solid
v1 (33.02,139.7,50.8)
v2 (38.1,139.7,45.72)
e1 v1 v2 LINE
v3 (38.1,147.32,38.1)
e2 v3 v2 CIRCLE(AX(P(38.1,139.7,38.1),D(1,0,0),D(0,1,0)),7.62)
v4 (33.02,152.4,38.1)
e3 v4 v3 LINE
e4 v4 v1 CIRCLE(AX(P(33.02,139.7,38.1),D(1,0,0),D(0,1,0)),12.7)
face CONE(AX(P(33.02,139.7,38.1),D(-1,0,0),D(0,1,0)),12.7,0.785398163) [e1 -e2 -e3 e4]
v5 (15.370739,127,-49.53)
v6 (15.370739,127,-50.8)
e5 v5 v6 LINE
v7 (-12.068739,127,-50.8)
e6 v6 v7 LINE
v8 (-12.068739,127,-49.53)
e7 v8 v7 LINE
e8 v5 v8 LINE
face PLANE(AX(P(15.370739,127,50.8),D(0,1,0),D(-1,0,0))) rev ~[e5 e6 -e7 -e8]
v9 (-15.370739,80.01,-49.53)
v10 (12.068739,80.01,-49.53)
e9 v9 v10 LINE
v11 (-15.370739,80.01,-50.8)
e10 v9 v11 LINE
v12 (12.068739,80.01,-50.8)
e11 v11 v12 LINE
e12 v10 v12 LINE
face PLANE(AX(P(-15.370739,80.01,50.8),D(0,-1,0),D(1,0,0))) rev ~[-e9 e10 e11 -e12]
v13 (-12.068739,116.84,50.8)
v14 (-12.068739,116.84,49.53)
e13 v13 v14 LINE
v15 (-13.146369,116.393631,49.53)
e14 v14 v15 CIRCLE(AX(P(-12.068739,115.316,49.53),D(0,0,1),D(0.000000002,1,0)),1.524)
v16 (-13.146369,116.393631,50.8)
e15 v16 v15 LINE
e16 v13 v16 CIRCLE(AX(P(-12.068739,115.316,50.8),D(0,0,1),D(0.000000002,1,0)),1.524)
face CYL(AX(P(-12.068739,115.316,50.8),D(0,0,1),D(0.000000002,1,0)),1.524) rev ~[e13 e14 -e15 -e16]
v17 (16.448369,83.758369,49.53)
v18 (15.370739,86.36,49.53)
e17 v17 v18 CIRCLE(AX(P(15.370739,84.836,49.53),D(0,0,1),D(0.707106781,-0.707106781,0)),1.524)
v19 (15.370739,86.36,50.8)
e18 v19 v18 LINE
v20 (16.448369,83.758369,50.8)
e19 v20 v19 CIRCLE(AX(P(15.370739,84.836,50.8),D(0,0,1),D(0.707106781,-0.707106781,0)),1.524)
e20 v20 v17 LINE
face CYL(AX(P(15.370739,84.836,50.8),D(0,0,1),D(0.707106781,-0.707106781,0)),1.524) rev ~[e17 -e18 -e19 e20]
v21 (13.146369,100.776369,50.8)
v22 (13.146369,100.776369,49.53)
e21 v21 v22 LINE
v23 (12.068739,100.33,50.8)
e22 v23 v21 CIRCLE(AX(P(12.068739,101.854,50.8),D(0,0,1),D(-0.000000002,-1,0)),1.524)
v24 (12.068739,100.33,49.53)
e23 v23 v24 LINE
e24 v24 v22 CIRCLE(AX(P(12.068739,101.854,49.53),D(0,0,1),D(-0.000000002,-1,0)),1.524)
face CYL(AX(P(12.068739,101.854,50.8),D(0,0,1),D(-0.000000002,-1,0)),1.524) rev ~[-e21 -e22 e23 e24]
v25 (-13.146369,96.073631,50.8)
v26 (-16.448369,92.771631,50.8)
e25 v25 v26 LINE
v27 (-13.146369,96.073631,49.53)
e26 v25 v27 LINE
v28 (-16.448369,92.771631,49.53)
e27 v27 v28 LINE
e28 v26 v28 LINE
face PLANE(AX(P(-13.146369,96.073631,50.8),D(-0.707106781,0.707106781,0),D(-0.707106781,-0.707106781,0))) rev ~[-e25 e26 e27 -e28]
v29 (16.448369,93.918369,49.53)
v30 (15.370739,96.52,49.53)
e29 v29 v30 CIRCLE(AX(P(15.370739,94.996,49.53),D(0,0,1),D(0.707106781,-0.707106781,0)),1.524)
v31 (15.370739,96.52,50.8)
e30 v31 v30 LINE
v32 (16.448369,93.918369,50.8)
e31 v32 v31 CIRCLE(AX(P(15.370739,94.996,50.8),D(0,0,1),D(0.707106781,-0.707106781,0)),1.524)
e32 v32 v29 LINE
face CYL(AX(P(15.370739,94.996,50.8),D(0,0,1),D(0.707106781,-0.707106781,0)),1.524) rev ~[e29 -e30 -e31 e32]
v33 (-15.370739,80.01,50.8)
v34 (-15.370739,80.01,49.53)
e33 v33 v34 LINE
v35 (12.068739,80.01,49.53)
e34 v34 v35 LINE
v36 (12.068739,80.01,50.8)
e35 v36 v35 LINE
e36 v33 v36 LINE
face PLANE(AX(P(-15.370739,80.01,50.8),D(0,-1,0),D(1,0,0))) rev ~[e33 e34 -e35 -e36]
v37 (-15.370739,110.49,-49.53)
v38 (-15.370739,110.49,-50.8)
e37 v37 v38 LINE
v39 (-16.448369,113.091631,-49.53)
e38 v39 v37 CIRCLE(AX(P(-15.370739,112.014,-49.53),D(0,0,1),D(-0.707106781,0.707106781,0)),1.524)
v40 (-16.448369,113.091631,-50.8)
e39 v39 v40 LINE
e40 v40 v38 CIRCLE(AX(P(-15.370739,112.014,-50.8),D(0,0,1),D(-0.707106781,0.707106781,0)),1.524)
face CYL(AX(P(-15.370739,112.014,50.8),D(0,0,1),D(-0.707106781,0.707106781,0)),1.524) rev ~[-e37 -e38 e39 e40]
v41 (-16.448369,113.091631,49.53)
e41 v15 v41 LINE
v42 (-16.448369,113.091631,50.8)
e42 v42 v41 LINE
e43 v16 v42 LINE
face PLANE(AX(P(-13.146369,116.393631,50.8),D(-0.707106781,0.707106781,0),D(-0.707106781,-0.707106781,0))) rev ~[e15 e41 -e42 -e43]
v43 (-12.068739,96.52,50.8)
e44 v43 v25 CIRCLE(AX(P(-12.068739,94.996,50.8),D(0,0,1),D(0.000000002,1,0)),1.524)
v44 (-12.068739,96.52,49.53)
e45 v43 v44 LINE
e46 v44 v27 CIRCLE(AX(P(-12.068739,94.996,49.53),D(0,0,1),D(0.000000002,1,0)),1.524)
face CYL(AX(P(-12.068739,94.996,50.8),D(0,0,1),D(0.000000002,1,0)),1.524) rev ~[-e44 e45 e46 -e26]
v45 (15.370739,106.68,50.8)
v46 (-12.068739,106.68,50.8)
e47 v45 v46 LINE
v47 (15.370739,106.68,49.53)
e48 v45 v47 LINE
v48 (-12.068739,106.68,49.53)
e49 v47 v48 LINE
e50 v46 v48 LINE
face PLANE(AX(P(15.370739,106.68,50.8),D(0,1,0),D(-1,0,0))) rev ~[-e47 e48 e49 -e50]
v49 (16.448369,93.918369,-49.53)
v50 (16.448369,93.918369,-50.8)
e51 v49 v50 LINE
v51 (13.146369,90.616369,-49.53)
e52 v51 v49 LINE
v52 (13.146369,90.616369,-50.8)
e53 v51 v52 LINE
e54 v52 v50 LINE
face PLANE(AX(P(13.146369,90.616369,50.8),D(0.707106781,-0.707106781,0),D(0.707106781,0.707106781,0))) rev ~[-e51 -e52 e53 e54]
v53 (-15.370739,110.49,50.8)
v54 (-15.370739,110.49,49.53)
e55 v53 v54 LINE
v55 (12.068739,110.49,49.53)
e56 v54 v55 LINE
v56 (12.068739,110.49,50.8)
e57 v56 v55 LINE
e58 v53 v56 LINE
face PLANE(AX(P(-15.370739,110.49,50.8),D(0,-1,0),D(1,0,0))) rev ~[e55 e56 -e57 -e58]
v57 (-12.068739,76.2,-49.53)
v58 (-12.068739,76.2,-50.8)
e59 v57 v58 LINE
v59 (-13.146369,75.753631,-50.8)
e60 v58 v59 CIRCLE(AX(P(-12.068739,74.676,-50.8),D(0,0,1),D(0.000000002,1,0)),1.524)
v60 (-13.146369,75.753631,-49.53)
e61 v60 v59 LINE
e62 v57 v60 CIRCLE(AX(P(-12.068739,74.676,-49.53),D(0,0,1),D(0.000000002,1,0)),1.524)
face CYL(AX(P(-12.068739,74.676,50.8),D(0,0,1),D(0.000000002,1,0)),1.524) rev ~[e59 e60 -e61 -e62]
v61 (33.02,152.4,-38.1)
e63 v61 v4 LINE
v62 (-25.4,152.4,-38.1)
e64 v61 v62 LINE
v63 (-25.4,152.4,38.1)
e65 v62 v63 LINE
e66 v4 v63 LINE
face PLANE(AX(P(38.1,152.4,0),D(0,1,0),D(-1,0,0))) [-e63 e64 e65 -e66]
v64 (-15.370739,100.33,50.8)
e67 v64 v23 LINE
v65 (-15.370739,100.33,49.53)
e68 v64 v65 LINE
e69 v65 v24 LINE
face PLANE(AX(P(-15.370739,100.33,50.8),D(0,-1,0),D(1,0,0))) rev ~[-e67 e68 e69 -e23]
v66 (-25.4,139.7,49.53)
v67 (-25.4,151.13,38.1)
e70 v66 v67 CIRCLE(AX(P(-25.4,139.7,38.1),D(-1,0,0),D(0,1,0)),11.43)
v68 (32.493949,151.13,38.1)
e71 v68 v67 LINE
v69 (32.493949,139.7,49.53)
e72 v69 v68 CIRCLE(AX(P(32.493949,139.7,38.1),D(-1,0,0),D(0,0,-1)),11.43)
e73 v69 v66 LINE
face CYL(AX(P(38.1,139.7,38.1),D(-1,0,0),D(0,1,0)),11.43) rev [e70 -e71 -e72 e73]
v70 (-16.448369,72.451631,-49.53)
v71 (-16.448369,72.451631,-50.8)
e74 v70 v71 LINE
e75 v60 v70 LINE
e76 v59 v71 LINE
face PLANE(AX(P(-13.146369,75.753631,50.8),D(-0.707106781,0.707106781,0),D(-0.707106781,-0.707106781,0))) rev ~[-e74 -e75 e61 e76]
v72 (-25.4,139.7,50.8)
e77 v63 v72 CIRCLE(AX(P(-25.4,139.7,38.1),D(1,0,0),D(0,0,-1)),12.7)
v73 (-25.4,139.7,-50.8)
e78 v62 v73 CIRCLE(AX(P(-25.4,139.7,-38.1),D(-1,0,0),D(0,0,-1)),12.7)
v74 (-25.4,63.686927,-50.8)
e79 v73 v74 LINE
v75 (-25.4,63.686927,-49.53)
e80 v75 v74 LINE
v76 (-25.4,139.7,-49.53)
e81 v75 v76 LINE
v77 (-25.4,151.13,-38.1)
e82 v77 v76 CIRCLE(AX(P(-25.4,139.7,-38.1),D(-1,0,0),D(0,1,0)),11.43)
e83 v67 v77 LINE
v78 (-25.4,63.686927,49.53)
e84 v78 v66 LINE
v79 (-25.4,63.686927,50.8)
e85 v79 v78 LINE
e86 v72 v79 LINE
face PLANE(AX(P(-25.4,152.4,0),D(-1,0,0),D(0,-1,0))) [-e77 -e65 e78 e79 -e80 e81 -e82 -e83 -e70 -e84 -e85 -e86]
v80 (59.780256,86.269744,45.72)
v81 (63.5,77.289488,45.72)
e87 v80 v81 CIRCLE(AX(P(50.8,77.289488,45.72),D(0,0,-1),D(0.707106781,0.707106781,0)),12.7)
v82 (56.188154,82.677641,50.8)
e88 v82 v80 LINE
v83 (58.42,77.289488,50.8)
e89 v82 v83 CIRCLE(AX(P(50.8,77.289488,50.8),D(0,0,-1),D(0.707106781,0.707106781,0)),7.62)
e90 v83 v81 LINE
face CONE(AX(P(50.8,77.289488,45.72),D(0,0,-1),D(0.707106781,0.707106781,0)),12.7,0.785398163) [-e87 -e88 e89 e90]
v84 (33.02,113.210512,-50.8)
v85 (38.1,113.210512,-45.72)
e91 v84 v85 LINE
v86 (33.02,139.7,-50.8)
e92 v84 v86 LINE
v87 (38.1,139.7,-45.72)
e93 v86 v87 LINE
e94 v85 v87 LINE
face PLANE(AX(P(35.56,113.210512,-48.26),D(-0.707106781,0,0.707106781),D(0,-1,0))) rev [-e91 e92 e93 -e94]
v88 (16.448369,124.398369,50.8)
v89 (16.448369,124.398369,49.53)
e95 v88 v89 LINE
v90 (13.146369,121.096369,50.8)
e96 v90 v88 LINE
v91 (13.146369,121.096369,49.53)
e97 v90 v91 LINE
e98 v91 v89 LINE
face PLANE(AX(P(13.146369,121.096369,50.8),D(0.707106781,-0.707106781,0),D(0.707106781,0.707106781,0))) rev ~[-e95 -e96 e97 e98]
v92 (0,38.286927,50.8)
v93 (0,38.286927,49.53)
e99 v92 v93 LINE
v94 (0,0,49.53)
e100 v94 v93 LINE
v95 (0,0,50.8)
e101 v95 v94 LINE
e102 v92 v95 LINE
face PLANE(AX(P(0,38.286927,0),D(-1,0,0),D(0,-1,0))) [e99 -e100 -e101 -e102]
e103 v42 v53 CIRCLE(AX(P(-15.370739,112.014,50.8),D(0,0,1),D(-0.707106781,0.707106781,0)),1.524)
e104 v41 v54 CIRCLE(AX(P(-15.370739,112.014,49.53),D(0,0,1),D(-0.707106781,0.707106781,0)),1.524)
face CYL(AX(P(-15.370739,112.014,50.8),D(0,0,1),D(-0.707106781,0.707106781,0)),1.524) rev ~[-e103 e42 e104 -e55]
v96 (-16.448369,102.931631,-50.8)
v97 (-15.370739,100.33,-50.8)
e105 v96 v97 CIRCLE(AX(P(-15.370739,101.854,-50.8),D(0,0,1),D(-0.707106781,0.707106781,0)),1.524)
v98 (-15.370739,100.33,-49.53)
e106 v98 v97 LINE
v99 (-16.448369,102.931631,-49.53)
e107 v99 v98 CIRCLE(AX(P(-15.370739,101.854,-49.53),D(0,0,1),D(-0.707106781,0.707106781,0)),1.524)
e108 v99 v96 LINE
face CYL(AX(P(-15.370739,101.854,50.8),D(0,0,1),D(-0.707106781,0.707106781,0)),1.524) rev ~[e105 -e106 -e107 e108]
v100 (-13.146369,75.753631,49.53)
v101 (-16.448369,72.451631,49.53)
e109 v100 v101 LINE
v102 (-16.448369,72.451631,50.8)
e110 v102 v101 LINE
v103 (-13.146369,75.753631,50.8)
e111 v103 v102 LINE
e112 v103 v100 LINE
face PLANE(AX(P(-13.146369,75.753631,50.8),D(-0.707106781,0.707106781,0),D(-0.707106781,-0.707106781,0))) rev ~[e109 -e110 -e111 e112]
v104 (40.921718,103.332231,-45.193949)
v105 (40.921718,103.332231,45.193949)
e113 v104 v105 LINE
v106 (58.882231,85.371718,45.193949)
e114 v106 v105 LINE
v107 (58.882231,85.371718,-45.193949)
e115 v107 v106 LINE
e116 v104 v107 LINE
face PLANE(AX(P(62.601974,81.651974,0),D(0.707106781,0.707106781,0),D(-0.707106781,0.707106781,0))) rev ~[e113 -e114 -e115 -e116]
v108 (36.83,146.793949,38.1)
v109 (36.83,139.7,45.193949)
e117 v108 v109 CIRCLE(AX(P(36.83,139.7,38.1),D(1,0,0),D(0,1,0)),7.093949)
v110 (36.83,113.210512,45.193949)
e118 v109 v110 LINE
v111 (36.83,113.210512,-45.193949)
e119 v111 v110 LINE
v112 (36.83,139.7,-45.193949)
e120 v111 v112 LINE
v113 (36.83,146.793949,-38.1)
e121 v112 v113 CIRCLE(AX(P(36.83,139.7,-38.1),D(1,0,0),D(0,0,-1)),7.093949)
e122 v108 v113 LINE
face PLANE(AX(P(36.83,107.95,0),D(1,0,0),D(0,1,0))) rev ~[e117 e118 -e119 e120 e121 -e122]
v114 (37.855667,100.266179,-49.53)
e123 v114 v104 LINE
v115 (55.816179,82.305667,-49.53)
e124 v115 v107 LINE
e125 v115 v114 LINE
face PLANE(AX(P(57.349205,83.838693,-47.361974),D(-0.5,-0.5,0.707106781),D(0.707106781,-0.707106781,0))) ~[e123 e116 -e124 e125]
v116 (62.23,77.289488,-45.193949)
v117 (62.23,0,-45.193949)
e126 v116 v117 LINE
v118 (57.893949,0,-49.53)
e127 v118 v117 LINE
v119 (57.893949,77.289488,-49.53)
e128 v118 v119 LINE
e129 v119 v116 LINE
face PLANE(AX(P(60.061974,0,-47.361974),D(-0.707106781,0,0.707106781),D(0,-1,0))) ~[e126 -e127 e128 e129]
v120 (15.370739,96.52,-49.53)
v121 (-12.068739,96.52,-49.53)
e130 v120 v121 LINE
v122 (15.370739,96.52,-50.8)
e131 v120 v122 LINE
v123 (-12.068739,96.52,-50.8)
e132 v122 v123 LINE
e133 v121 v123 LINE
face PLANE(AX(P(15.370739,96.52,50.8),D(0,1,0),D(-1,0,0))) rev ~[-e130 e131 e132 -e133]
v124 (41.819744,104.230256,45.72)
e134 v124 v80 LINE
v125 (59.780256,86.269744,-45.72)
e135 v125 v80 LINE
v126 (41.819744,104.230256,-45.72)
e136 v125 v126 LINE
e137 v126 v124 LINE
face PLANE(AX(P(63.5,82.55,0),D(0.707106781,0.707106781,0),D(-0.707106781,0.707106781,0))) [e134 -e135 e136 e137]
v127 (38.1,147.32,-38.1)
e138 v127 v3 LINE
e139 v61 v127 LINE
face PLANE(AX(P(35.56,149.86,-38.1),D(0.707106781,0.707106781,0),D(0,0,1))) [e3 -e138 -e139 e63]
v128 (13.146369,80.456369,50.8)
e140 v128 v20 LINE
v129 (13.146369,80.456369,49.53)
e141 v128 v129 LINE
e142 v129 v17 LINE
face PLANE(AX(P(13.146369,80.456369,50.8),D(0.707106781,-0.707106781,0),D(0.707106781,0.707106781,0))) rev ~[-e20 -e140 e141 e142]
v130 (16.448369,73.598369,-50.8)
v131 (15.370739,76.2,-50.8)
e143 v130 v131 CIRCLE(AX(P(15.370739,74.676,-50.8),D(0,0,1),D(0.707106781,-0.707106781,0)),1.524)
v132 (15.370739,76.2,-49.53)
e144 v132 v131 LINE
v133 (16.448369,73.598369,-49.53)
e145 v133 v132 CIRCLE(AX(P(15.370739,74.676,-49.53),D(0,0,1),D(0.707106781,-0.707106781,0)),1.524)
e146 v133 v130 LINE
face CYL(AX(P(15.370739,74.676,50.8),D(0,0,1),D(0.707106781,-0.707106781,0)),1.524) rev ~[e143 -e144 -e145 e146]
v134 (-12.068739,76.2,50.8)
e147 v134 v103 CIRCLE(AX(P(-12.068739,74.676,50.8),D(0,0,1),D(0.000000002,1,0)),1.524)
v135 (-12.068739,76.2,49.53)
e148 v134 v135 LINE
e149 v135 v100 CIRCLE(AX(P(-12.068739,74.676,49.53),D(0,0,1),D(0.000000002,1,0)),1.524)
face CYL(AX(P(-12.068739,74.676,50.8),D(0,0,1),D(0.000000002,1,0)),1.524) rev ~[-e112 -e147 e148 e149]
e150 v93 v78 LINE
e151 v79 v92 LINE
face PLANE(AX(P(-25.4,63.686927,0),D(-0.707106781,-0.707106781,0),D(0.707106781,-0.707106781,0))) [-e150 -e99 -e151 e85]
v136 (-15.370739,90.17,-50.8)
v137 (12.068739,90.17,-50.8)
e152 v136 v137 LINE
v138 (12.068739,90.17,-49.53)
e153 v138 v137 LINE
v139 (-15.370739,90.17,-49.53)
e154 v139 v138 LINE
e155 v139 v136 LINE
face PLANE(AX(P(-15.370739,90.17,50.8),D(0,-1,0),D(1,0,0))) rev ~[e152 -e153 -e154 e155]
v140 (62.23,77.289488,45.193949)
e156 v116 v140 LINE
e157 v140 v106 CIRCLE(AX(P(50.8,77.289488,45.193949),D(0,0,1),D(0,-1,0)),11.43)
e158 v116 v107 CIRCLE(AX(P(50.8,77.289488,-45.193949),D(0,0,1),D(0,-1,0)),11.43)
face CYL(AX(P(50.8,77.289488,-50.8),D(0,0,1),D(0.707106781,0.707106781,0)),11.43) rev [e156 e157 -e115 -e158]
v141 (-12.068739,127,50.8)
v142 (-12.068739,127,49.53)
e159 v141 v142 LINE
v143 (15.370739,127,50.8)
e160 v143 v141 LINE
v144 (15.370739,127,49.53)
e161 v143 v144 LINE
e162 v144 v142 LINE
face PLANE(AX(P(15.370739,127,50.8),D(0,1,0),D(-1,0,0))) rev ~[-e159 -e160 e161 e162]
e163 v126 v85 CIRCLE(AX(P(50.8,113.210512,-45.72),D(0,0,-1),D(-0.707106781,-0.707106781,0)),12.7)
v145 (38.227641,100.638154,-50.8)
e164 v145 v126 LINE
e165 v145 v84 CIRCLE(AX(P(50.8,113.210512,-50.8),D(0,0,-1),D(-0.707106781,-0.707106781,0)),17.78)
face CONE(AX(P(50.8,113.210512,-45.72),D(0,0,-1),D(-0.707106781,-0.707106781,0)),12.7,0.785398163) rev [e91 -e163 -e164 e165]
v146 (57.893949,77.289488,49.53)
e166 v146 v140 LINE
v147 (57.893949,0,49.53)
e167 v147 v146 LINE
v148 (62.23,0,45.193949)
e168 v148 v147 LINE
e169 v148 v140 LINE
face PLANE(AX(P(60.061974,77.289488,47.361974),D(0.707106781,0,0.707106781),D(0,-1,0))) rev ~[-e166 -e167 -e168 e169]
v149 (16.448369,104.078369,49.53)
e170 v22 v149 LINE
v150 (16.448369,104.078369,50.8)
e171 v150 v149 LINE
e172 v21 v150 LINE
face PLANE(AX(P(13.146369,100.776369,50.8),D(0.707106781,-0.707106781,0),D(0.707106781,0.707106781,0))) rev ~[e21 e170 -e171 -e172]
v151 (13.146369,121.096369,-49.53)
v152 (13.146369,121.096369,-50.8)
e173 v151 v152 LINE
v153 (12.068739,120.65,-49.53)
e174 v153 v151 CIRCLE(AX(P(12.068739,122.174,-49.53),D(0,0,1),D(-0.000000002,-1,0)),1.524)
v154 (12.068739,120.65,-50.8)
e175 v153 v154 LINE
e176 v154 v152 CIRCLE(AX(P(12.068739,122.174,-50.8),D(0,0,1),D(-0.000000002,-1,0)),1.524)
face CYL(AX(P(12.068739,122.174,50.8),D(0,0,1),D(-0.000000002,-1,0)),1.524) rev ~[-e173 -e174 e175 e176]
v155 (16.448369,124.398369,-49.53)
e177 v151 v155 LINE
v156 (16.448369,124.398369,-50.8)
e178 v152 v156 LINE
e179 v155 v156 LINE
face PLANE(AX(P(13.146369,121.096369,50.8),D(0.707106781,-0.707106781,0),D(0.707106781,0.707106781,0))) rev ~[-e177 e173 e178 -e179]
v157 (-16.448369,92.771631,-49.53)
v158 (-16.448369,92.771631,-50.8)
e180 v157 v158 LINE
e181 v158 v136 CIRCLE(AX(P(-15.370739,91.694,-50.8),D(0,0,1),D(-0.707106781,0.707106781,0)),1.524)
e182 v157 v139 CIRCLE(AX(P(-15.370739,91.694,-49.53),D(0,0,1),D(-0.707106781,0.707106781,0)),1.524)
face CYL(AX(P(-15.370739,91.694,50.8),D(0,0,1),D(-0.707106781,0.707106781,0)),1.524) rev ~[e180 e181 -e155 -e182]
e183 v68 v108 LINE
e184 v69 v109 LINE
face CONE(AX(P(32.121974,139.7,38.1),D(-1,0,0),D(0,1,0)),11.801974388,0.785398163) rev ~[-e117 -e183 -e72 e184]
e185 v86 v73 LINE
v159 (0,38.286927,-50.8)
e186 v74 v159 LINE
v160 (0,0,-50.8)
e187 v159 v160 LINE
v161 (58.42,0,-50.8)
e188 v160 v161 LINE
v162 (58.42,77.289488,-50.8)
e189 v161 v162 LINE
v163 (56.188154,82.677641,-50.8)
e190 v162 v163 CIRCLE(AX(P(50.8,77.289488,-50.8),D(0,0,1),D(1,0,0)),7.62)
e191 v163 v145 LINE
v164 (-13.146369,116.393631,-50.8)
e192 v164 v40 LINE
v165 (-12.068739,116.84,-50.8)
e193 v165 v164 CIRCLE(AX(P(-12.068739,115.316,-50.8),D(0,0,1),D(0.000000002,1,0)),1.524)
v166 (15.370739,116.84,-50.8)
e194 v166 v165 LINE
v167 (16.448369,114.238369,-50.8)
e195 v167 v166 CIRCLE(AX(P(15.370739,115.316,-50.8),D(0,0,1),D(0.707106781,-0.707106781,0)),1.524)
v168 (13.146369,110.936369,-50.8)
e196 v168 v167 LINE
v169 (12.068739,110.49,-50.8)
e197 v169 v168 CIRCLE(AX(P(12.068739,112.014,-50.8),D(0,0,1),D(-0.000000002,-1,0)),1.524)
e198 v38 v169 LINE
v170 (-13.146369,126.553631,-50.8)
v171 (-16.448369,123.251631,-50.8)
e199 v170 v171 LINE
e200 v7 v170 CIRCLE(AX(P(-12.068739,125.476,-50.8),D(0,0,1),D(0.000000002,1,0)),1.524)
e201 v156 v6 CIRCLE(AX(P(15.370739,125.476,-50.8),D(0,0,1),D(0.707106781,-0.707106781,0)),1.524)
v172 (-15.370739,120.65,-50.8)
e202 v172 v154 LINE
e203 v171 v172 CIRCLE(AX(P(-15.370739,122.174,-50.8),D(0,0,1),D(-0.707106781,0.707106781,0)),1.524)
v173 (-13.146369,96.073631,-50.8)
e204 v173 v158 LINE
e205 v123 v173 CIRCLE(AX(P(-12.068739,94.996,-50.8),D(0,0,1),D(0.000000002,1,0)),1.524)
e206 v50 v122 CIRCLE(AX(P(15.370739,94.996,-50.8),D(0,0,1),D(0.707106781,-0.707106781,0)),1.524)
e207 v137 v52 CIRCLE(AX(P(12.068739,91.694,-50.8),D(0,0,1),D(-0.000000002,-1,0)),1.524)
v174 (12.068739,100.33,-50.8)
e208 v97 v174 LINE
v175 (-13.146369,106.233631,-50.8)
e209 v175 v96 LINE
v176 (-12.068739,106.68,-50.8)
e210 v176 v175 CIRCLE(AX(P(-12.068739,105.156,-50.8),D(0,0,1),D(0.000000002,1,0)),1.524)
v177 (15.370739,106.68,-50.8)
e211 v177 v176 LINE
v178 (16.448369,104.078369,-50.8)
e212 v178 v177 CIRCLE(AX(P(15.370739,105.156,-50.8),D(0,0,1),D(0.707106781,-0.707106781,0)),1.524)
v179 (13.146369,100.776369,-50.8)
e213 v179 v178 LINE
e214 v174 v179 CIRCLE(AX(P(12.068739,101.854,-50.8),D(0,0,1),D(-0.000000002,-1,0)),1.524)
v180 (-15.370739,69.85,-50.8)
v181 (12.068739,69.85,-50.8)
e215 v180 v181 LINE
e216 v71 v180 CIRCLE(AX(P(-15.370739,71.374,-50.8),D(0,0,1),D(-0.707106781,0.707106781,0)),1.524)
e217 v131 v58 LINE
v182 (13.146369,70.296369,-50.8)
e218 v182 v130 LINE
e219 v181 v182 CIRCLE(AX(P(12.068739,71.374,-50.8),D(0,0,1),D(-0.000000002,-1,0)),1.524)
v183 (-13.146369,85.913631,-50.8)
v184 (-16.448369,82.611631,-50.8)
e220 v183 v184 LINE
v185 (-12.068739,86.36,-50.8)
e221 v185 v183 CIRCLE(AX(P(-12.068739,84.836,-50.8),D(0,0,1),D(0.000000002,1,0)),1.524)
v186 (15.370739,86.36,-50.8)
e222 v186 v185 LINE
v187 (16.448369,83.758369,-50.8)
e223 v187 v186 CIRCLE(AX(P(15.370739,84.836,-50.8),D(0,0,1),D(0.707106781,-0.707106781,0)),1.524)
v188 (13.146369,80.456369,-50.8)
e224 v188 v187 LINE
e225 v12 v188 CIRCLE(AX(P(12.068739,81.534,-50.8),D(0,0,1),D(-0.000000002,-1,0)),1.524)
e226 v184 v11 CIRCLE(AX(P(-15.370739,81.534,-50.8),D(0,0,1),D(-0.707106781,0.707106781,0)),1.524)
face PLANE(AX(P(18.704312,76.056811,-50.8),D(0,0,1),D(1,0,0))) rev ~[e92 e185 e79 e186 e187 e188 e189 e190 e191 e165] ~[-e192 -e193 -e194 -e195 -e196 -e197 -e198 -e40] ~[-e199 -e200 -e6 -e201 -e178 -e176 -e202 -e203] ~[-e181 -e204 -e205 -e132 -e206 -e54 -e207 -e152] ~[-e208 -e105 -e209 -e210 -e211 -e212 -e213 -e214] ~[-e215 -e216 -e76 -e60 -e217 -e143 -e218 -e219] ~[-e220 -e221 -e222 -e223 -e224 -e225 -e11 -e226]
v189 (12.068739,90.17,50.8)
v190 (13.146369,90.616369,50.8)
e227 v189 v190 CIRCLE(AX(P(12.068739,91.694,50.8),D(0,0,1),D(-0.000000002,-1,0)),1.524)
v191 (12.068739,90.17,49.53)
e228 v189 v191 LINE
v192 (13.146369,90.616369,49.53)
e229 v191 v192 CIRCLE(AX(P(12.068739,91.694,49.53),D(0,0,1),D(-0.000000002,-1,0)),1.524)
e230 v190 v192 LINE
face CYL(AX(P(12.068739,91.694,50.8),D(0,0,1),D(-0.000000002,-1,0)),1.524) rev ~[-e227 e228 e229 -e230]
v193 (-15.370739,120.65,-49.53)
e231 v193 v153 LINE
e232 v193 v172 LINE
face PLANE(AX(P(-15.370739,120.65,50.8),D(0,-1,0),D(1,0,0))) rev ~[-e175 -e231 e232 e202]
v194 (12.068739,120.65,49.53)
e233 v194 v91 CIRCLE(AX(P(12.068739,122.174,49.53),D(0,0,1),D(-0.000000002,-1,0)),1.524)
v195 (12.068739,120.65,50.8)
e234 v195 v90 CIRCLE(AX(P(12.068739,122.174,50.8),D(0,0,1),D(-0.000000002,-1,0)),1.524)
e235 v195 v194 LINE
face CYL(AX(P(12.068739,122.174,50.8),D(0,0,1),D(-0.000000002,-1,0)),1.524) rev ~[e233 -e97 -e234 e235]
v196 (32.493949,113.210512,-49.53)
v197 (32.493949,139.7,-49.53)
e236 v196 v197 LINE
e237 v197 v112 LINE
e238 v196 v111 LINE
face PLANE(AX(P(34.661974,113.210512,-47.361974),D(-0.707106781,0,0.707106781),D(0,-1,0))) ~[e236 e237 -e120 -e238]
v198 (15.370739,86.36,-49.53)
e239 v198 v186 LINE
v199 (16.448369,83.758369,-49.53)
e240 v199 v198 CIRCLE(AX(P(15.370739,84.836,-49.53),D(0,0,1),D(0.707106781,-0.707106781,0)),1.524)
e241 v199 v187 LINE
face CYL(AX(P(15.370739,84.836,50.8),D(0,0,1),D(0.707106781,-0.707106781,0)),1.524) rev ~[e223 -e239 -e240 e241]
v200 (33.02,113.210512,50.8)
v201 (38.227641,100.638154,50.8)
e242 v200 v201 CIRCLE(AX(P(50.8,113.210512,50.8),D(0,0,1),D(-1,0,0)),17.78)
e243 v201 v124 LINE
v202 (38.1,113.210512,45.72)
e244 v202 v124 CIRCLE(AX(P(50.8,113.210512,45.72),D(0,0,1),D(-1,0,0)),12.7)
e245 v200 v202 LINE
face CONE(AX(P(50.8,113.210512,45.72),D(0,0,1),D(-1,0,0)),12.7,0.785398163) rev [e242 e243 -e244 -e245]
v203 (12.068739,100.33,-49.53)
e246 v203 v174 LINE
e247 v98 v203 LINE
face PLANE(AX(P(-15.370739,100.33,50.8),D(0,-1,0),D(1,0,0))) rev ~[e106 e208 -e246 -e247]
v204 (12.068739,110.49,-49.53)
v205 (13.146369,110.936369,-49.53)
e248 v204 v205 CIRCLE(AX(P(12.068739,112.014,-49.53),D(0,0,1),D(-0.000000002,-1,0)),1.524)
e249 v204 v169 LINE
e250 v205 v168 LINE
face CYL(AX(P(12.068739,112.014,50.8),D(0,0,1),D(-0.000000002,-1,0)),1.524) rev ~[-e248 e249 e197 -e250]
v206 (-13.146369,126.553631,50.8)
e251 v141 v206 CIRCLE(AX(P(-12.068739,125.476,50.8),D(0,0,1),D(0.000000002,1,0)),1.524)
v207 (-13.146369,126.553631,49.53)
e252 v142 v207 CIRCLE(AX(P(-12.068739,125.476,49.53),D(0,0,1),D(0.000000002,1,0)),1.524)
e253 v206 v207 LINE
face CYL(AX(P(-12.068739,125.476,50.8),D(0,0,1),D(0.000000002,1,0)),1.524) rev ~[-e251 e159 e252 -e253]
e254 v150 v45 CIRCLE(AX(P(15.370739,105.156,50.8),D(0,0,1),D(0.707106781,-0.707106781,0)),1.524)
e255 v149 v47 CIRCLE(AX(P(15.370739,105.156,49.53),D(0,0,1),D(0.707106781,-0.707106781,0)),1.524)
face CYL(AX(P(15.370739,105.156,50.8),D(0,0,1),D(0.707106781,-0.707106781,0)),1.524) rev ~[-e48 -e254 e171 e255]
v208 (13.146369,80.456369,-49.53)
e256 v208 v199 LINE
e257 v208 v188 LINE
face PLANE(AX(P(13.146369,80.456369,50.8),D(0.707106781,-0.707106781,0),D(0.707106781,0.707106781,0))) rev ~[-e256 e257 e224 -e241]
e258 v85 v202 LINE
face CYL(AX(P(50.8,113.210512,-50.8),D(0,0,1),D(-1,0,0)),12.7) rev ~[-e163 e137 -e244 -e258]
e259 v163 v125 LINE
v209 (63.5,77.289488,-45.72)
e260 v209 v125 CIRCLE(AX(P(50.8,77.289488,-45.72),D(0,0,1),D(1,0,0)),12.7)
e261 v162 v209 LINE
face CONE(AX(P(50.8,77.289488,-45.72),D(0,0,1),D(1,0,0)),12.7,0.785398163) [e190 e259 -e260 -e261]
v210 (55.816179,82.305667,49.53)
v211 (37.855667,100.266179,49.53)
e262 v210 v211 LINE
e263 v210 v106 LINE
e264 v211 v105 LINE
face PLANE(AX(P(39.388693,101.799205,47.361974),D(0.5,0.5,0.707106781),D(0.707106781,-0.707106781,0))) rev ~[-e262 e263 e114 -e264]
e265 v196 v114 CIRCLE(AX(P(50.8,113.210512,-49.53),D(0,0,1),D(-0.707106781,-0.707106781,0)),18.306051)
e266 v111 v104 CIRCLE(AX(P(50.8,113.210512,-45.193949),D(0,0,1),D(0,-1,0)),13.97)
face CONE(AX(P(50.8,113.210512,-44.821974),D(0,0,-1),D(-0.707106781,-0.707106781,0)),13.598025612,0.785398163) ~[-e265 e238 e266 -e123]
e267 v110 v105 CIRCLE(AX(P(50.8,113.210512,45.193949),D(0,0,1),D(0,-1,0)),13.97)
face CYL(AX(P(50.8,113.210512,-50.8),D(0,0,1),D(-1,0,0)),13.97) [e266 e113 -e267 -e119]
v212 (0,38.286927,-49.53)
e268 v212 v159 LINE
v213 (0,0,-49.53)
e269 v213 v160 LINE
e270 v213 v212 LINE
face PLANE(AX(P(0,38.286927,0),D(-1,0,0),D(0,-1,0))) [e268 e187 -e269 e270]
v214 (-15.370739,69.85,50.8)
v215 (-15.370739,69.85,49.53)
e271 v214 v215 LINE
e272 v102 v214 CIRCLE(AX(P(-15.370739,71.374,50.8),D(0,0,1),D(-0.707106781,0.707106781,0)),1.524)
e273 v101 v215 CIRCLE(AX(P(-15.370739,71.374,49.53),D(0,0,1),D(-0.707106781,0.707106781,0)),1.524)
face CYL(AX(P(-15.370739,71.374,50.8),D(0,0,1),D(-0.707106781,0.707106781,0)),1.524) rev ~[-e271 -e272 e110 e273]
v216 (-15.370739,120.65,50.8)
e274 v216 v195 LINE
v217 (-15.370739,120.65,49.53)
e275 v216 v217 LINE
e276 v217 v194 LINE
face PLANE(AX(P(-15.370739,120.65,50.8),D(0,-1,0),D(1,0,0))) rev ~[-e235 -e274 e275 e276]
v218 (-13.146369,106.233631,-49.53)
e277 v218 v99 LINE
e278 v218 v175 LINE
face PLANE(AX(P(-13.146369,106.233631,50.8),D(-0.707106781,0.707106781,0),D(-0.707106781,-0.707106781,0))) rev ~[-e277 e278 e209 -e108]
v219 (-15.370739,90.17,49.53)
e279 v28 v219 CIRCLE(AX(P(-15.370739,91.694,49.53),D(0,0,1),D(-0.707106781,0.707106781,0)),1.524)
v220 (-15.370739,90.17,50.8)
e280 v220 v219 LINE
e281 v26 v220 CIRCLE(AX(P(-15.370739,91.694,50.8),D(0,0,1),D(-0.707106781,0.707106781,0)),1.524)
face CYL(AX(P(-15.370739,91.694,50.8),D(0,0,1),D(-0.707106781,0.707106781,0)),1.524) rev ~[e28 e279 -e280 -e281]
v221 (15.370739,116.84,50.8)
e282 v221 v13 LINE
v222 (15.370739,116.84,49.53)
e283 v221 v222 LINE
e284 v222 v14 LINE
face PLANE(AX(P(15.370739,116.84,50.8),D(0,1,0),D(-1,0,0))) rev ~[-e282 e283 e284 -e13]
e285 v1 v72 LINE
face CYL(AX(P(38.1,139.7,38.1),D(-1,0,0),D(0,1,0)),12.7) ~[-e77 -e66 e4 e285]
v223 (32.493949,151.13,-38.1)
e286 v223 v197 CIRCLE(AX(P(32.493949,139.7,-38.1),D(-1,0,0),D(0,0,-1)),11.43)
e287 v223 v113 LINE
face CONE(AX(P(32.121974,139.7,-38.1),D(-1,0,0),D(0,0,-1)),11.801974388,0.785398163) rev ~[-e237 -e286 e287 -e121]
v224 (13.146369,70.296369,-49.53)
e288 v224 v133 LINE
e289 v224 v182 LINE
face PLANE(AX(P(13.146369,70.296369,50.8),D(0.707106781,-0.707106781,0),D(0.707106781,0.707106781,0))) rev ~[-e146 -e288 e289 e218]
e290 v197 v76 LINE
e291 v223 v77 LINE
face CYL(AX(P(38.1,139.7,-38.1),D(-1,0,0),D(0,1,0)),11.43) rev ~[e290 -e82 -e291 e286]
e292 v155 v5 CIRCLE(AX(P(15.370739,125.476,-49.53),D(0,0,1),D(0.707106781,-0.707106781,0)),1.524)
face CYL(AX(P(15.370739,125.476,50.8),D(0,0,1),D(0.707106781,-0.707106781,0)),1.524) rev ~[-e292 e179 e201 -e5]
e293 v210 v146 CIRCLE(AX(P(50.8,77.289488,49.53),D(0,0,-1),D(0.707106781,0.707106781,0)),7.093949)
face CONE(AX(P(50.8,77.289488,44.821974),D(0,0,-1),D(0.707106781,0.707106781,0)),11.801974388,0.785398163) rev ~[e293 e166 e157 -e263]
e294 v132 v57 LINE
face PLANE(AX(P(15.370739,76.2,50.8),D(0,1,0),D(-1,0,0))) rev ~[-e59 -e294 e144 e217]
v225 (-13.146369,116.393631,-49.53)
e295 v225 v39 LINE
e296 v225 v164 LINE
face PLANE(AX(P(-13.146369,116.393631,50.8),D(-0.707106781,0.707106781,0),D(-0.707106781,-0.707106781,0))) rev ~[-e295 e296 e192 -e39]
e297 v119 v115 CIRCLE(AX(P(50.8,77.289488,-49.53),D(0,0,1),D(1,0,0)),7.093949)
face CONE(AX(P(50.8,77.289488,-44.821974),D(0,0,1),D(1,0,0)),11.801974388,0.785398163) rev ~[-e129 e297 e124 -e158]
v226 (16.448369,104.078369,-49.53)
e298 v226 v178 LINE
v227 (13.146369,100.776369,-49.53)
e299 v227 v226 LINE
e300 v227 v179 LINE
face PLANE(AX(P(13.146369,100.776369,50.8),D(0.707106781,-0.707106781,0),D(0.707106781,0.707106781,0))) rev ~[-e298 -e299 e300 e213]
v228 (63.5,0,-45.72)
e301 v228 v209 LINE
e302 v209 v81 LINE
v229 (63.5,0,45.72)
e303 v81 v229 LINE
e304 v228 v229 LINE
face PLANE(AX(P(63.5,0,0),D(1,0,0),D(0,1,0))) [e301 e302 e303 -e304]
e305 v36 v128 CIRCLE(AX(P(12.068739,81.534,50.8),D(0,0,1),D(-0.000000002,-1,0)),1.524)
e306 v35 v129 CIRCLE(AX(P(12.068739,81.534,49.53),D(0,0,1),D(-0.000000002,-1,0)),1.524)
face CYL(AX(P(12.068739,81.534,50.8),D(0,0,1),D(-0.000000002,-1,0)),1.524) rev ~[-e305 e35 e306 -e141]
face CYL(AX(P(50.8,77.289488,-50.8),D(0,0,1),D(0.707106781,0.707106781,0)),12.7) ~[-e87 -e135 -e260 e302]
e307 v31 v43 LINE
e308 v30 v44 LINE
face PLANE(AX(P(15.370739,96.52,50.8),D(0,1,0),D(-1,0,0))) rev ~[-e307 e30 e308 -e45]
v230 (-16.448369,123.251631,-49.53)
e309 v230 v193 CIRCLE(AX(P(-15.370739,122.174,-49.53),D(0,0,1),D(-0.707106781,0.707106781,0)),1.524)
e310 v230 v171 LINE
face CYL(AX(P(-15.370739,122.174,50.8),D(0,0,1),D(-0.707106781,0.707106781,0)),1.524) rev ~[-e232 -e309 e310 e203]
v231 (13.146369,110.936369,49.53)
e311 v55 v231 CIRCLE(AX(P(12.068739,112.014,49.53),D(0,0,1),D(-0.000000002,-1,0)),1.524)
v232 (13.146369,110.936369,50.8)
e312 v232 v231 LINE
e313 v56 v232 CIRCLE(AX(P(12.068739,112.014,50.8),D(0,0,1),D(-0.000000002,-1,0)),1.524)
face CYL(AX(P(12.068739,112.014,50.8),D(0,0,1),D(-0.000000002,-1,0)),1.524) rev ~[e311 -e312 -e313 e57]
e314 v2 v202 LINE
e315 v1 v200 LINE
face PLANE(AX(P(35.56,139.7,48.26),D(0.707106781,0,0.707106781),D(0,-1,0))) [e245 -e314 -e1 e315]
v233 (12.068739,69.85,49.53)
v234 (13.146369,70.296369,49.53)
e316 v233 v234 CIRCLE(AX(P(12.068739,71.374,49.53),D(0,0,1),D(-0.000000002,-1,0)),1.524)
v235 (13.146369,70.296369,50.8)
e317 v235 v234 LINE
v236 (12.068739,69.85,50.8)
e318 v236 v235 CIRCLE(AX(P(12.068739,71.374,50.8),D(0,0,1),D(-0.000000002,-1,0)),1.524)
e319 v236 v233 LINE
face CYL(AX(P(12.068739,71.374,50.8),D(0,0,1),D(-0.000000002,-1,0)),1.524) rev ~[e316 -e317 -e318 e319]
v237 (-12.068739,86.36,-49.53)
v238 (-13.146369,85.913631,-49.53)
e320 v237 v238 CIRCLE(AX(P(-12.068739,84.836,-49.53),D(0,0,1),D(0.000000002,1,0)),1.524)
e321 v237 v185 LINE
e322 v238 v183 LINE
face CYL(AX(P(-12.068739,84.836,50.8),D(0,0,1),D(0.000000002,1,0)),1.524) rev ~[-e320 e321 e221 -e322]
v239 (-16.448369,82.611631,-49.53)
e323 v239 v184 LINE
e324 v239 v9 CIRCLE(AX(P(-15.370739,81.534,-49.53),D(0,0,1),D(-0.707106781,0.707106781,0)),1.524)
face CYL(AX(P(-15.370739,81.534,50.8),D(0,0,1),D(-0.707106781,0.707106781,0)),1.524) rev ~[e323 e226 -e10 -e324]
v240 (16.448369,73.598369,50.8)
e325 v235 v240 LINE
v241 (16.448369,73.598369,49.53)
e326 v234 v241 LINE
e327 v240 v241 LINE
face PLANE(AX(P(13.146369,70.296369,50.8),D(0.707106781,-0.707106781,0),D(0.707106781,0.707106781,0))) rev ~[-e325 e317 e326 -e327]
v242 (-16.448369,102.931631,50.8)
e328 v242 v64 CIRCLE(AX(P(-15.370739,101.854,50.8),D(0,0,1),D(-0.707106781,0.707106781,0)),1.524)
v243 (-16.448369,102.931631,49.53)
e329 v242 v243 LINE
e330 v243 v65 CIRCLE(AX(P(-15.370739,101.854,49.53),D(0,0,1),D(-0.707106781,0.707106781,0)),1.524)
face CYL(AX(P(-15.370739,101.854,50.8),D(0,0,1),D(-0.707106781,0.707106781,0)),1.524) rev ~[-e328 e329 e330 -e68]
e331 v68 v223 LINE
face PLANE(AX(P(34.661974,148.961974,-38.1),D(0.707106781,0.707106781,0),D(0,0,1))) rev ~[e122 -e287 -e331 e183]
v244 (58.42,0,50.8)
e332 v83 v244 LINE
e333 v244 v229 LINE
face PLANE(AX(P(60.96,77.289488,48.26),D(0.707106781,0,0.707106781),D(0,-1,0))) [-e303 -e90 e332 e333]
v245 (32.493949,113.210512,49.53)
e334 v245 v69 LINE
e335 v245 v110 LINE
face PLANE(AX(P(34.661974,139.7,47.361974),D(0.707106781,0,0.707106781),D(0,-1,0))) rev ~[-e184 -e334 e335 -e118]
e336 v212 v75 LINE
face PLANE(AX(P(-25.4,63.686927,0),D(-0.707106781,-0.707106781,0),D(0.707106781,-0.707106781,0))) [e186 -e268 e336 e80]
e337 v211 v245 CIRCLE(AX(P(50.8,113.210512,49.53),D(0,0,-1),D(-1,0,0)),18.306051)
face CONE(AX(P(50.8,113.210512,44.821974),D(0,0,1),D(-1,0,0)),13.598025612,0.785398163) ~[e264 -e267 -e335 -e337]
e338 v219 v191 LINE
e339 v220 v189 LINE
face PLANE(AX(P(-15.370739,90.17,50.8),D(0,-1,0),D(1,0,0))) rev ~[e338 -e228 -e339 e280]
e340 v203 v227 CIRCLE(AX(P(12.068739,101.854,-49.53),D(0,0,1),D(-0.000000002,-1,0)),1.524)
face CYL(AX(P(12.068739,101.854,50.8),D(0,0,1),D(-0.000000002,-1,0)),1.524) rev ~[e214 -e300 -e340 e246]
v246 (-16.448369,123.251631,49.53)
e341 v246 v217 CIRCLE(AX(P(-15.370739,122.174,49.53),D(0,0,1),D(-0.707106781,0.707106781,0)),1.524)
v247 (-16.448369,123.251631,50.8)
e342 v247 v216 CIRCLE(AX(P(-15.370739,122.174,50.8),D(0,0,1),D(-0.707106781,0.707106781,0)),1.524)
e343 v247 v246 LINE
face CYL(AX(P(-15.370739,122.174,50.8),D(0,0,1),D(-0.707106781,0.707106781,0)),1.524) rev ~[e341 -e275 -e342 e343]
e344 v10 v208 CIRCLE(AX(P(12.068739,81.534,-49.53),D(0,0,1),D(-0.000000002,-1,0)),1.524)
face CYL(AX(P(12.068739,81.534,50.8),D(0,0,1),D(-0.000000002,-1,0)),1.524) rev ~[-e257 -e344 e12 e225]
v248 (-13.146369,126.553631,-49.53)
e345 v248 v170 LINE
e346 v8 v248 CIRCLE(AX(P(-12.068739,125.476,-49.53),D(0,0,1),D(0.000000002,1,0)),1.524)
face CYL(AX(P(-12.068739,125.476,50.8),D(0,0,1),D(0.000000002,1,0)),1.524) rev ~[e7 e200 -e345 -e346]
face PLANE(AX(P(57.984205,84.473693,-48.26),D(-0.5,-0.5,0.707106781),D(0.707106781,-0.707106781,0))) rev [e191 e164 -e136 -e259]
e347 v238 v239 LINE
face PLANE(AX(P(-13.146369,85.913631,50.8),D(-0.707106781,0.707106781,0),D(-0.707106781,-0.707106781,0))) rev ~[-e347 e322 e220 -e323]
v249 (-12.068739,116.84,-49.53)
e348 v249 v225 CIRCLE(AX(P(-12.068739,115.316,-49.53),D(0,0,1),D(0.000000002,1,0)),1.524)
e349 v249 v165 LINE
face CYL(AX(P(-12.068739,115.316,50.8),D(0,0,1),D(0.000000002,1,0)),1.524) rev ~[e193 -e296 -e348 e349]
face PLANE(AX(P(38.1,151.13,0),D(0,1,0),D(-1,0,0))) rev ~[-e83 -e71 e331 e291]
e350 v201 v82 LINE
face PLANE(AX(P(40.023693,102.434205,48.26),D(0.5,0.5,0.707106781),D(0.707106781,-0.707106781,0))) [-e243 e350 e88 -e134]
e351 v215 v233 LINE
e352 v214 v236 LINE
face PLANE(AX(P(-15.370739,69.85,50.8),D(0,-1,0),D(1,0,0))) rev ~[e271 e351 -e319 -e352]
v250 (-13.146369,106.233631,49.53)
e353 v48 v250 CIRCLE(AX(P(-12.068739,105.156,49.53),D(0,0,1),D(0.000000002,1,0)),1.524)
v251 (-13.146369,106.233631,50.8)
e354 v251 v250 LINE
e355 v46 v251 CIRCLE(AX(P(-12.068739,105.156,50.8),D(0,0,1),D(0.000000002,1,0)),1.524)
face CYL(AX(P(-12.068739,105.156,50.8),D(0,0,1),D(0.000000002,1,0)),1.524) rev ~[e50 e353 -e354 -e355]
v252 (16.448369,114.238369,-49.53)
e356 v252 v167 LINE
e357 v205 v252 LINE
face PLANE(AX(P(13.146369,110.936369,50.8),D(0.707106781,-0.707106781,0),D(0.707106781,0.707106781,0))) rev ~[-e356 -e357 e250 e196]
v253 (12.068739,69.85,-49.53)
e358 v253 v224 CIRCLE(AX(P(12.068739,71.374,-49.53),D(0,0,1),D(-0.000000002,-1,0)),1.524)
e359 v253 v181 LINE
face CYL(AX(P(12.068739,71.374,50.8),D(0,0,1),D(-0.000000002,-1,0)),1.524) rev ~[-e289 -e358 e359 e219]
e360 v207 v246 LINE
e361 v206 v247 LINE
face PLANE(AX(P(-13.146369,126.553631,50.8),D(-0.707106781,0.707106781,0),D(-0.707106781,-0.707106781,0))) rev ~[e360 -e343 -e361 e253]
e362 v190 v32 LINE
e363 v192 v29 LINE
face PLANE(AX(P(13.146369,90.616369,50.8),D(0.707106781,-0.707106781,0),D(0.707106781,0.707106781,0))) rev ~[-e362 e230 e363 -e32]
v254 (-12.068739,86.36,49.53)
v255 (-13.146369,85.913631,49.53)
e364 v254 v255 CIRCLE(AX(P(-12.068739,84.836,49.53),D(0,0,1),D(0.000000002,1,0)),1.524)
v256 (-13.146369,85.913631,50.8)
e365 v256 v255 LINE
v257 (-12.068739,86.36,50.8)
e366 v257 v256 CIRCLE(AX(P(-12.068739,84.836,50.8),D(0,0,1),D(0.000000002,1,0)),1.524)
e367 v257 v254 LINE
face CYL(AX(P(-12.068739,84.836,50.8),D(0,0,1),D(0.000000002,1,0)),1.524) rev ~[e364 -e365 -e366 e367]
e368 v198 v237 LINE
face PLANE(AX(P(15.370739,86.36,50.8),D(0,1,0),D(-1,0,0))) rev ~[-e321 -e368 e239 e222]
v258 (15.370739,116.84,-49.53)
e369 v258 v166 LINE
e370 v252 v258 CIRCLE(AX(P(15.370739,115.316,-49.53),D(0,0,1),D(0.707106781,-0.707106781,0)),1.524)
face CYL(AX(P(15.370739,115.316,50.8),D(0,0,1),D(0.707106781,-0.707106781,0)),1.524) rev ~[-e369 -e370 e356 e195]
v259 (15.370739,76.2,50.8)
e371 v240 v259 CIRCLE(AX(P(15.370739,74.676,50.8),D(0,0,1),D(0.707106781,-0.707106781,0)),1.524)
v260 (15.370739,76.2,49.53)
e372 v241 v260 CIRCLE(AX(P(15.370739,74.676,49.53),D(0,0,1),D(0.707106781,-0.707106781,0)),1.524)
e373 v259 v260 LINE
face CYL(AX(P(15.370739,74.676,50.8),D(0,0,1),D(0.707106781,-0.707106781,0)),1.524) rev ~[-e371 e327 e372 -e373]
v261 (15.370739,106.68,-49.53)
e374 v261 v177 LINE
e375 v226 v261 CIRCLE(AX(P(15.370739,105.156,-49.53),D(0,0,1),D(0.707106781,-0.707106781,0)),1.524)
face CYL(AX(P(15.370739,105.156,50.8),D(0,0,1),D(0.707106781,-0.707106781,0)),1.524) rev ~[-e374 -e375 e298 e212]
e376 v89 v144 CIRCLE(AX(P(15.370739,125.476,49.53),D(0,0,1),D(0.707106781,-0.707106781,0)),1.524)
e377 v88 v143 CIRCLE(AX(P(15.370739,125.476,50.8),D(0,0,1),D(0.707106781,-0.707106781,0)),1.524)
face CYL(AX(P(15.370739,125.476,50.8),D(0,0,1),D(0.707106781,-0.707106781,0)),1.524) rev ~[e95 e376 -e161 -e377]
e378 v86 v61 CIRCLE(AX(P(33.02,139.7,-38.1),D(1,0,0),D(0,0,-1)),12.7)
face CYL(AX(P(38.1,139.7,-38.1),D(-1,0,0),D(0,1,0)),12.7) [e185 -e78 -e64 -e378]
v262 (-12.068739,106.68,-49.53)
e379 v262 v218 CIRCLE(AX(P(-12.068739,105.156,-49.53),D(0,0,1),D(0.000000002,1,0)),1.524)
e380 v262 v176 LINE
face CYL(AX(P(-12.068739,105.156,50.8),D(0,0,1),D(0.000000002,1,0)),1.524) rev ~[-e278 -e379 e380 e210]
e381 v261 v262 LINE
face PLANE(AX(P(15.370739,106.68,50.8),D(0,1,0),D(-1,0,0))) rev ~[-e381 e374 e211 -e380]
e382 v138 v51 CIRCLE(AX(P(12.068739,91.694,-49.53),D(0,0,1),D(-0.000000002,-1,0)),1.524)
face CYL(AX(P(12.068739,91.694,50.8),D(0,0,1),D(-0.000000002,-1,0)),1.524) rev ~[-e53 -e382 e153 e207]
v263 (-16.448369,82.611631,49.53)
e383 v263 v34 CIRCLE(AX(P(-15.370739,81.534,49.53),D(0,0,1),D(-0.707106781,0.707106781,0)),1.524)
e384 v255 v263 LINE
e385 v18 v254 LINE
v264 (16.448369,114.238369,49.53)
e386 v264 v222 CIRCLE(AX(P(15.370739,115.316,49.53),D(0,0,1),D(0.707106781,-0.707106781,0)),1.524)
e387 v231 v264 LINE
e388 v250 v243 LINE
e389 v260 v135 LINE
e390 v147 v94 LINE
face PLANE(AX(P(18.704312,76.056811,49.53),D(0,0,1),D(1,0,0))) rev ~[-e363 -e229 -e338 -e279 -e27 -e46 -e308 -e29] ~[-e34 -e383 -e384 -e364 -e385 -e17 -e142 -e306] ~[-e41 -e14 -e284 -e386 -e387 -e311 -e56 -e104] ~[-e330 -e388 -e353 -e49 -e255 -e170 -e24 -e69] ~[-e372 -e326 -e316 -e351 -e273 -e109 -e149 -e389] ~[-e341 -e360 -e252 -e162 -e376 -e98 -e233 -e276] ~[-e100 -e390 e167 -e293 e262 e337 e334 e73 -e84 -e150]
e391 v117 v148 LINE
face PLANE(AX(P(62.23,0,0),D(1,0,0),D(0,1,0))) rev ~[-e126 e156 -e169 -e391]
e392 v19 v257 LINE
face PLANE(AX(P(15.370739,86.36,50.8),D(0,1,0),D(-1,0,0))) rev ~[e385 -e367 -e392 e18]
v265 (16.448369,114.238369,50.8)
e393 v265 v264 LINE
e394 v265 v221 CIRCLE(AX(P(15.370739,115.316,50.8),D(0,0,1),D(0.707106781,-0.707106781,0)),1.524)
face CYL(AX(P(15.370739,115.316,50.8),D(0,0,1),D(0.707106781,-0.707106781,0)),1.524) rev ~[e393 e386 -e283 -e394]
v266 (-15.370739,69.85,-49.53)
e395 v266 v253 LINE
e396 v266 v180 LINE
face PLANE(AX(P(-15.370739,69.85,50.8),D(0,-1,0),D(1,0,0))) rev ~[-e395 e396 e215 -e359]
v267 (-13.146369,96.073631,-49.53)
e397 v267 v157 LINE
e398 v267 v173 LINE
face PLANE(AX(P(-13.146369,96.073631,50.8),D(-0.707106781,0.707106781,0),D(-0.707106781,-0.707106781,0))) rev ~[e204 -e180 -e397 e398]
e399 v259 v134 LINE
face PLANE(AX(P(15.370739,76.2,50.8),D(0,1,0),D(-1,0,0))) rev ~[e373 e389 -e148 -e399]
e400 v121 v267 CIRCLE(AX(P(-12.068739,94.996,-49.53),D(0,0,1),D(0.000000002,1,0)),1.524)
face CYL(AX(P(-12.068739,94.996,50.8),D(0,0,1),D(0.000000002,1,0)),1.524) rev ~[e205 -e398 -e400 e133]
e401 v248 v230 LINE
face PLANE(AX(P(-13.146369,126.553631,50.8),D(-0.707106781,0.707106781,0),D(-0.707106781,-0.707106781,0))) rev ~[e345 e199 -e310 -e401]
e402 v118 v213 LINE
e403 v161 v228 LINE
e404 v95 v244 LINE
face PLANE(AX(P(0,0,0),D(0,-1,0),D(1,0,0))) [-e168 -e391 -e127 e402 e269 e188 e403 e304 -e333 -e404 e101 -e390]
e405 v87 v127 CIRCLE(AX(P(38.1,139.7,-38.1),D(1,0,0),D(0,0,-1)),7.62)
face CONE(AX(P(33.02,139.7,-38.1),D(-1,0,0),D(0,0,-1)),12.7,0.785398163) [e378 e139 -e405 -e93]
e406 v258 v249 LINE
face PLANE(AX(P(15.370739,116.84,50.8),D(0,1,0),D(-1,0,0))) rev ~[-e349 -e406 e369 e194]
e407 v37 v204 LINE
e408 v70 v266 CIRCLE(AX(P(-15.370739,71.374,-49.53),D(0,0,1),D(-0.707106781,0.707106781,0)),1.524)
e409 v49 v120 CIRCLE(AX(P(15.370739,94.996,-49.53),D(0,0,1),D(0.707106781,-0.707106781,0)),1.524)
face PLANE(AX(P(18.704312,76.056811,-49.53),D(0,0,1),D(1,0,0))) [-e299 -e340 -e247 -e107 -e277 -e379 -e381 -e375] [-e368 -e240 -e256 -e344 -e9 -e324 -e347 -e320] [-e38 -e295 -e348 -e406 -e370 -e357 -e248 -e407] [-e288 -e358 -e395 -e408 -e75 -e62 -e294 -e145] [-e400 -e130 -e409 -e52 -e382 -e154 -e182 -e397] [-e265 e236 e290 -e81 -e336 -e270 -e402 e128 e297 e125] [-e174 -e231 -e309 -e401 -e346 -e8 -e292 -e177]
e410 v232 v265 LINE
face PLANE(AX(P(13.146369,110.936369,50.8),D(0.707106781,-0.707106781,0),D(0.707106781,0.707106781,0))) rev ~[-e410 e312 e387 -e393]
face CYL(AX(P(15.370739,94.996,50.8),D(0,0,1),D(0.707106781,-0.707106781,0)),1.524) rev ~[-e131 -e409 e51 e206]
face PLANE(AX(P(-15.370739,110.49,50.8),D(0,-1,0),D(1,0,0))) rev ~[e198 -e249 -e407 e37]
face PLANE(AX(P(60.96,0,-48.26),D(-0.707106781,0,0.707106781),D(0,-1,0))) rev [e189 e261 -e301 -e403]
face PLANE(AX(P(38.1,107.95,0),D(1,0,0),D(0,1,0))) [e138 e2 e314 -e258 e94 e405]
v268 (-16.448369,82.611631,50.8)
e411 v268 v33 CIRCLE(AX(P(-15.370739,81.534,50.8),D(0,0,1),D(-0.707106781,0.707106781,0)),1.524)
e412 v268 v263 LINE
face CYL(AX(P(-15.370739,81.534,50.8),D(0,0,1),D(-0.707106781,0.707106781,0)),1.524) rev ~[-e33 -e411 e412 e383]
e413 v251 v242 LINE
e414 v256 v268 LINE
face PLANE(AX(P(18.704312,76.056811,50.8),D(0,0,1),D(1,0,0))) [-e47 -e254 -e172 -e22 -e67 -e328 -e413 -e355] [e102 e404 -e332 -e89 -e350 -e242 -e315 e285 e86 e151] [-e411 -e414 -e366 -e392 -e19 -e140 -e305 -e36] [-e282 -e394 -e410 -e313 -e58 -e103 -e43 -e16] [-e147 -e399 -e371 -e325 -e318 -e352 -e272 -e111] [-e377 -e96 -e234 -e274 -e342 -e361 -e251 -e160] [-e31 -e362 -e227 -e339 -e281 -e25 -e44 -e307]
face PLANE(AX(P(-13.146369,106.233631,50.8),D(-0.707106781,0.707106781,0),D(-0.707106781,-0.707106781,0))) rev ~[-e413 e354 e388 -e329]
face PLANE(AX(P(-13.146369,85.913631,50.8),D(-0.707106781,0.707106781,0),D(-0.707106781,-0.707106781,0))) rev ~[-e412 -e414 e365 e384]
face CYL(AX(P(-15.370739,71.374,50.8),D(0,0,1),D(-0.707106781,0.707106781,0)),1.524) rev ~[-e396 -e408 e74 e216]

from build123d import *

# Parameters (mm, degrees)
BOSS_EXTRUDE1_DEPTH = 50.8
FILLET1_R           = 12.7
CHAMFER1_SIZE       = 5.08
SHELL1_T            = -1.27
CUT_EXTRUDE1_DEPTH  = 102.6


with BuildPart() as part:
    # Sketch1 → Boss-Extrude1 (new body, symmetric)
    with BuildSketch(Plane.XY):
        Polygon((0, 0), (63.5, 0), (63.5, 82.55), (38.1, 107.95), (38.1, 152.4), (-25.4, 152.4), (-25.4, 63.686926547), (0, 38.286926547), align=None)
    extrude(amount=BOSS_EXTRUDE1_DEPTH, both=True)

    # Fillet1
    fillet1_edges = [part.edges().sort_by_distance(p)[0] for p in [
        (38.1, 107.95, 0),
        (63.5, 82.55, 0),
        (6.35, 152.4, 50.8),
        (6.35, 152.4, -50.8),
    ]]
    fillet(fillet1_edges, radius=FILLET1_R)

    # Chamfer1
    chamfer1_edges = [part.edges().sort_by_distance(p)[0] for p in [
        (63.5, 38.644743879, -50.8),
        (63.5, 38.644743879, 50.8),
        (50.8, 95.25, -50.8),
        (50.8, 95.25, 50.8),
        (38.1, 126.455256121, -50.8),
        (62.533270063, 82.149567349, -50.8),
        (38.1, 126.455256121, 50.8),
        (62.533270063, 82.149567349, 50.8),
        (38.1, 152.4, 0),
        (38.1, 148.680256121, 47.080256121),
        (38.1, 148.680256121, -47.080256121),
        (39.066729937, 108.350432651, -50.8),
        (39.066729937, 108.350432651, 50.8),
    ]]
    chamfer(chamfer1_edges, length=CHAMFER1_SIZE)

    # Shell1
    shell1_openings = [part.faces().sort_by_distance(p)[0] for p in [
        (-12.7, 50.986926547, 0),
        (-25.4, 119.472394223, 0),
        (40.64, 0, 0),
        (0, 19.143463274, 0),
    ]]
    offset(amount=SHELL1_T, openings=shell1_openings, kind=Kind.INTERSECTION)

    # Sketch2 → Cut-Extrude1 (cut, through all)
    with BuildSketch(Plane.XY.offset(50.8)):
        with BuildLine():
            Line((-13.146369265, 126.553630735), (-16.448369265, 123.251630735))
            ThreePointArc((-16.448369265, 123.251630735), (-16.778730938, 121.590790449), (-15.370738531, 120.65))
            Line((-15.370738531, 120.65), (12.068738531, 120.65))
            ThreePointArc((12.068738531, 120.65), (12.651948082, 120.766007592), (13.146369265, 121.096369265))
            Line((13.146369265, 121.096369265), (16.448369265, 124.398369265))
            ThreePointArc((16.448369265, 124.398369265), (16.778730938, 126.059209551), (15.370738531, 127))
            Line((15.370738531, 127), (-12.068738531, 127))
            ThreePointArc((-12.068738531, 127), (-12.651948082, 126.883992408), (-13.146369265, 126.553630735))
        make_face()
        with BuildLine():
            Line((-13.146369265, 116.393630735), (-16.448369265, 113.091630735))
            ThreePointArc((-16.448369265, 113.091630735), (-16.778730938, 111.430790449), (-15.370738531, 110.49))
            Line((-15.370738531, 110.49), (12.068738531, 110.49))
            ThreePointArc((12.068738531, 110.49), (12.651948082, 110.606007592), (13.146369265, 110.936369265))
            Line((13.146369265, 110.936369265), (16.448369265, 114.238369265))
            ThreePointArc((16.448369265, 114.238369265), (16.778730938, 115.899209551), (15.370738531, 116.84))
            Line((15.370738531, 116.84), (-12.068738531, 116.84))
            ThreePointArc((-12.068738531, 116.84), (-12.651948082, 116.723992408), (-13.146369265, 116.393630735))
        make_face()
        with BuildLine():
            Line((-13.146369265, 106.233630735), (-16.448369265, 102.931630735))
            ThreePointArc((-16.448369265, 102.931630735), (-16.778730938, 101.270790449), (-15.370738531, 100.33))
            Line((-15.370738531, 100.33), (12.068738531, 100.33))
            ThreePointArc((12.068738531, 100.33), (12.651948082, 100.446007592), (13.146369265, 100.776369265))
            Line((13.146369265, 100.776369265), (16.448369265, 104.078369265))
            ThreePointArc((16.448369265, 104.078369265), (16.778730938, 105.739209551), (15.370738531, 106.68))
            Line((15.370738531, 106.68), (-12.068738531, 106.68))
            ThreePointArc((-12.068738531, 106.68), (-12.651948082, 106.563992408), (-13.146369265, 106.233630735))
        make_face()
        with BuildLine():
            Line((-13.146369265, 96.073630735), (-16.448369265, 92.771630735))
            ThreePointArc((-16.448369265, 92.771630735), (-16.778730938, 91.110790449), (-15.370738531, 90.17))
            Line((-15.370738531, 90.17), (12.068738531, 90.17))
            ThreePointArc((12.068738531, 90.17), (12.651948082, 90.286007592), (13.146369265, 90.616369265))
            Line((13.146369265, 90.616369265), (16.448369265, 93.918369265))
            ThreePointArc((16.448369265, 93.918369265), (16.778730938, 95.579209551), (15.370738531, 96.52))
            Line((15.370738531, 96.52), (-12.068738531, 96.52))
            ThreePointArc((-12.068738531, 96.52), (-12.651948082, 96.403992408), (-13.146369265, 96.073630735))
        make_face()
        with BuildLine():
            Line((-13.146369265, 85.913630735), (-16.448369265, 82.611630735))
            ThreePointArc((-16.448369265, 82.611630735), (-16.778730938, 80.950790449), (-15.370738531, 80.01))
            Line((-15.370738531, 80.01), (12.068738531, 80.01))
            ThreePointArc((12.068738531, 80.01), (12.651948082, 80.126007592), (13.146369265, 80.456369265))
            Line((13.146369265, 80.456369265), (16.448369265, 83.758369265))
            ThreePointArc((16.448369265, 83.758369265), (16.778730938, 85.419209551), (15.370738531, 86.36))
            Line((15.370738531, 86.36), (-12.068738531, 86.36))
            ThreePointArc((-12.068738531, 86.36), (-12.651948082, 86.243992408), (-13.146369265, 85.913630735))
        make_face()
        with BuildLine():
            Line((-13.146369265, 75.753630735), (-16.448369265, 72.451630735))
            ThreePointArc((-16.448369265, 72.451630735), (-16.778730938, 70.790790449), (-15.370738531, 69.85))
            Line((-15.370738531, 69.85), (12.068738531, 69.85))
            ThreePointArc((12.068738531, 69.85), (12.651948082, 69.966007592), (13.146369265, 70.296369265))
            Line((13.146369265, 70.296369265), (16.448369265, 73.598369265))
            ThreePointArc((16.448369265, 73.598369265), (16.778730938, 75.259209551), (15.370738531, 76.2))
            Line((15.370738531, 76.2), (-12.068738531, 76.2))
            ThreePointArc((-12.068738531, 76.2), (-12.651948082, 76.083992408), (-13.146369265, 75.753630735))
        make_face()
    extrude(amount=-CUT_EXTRUDE1_DEPTH, mode=Mode.SUBTRACT)


solid = part.part
